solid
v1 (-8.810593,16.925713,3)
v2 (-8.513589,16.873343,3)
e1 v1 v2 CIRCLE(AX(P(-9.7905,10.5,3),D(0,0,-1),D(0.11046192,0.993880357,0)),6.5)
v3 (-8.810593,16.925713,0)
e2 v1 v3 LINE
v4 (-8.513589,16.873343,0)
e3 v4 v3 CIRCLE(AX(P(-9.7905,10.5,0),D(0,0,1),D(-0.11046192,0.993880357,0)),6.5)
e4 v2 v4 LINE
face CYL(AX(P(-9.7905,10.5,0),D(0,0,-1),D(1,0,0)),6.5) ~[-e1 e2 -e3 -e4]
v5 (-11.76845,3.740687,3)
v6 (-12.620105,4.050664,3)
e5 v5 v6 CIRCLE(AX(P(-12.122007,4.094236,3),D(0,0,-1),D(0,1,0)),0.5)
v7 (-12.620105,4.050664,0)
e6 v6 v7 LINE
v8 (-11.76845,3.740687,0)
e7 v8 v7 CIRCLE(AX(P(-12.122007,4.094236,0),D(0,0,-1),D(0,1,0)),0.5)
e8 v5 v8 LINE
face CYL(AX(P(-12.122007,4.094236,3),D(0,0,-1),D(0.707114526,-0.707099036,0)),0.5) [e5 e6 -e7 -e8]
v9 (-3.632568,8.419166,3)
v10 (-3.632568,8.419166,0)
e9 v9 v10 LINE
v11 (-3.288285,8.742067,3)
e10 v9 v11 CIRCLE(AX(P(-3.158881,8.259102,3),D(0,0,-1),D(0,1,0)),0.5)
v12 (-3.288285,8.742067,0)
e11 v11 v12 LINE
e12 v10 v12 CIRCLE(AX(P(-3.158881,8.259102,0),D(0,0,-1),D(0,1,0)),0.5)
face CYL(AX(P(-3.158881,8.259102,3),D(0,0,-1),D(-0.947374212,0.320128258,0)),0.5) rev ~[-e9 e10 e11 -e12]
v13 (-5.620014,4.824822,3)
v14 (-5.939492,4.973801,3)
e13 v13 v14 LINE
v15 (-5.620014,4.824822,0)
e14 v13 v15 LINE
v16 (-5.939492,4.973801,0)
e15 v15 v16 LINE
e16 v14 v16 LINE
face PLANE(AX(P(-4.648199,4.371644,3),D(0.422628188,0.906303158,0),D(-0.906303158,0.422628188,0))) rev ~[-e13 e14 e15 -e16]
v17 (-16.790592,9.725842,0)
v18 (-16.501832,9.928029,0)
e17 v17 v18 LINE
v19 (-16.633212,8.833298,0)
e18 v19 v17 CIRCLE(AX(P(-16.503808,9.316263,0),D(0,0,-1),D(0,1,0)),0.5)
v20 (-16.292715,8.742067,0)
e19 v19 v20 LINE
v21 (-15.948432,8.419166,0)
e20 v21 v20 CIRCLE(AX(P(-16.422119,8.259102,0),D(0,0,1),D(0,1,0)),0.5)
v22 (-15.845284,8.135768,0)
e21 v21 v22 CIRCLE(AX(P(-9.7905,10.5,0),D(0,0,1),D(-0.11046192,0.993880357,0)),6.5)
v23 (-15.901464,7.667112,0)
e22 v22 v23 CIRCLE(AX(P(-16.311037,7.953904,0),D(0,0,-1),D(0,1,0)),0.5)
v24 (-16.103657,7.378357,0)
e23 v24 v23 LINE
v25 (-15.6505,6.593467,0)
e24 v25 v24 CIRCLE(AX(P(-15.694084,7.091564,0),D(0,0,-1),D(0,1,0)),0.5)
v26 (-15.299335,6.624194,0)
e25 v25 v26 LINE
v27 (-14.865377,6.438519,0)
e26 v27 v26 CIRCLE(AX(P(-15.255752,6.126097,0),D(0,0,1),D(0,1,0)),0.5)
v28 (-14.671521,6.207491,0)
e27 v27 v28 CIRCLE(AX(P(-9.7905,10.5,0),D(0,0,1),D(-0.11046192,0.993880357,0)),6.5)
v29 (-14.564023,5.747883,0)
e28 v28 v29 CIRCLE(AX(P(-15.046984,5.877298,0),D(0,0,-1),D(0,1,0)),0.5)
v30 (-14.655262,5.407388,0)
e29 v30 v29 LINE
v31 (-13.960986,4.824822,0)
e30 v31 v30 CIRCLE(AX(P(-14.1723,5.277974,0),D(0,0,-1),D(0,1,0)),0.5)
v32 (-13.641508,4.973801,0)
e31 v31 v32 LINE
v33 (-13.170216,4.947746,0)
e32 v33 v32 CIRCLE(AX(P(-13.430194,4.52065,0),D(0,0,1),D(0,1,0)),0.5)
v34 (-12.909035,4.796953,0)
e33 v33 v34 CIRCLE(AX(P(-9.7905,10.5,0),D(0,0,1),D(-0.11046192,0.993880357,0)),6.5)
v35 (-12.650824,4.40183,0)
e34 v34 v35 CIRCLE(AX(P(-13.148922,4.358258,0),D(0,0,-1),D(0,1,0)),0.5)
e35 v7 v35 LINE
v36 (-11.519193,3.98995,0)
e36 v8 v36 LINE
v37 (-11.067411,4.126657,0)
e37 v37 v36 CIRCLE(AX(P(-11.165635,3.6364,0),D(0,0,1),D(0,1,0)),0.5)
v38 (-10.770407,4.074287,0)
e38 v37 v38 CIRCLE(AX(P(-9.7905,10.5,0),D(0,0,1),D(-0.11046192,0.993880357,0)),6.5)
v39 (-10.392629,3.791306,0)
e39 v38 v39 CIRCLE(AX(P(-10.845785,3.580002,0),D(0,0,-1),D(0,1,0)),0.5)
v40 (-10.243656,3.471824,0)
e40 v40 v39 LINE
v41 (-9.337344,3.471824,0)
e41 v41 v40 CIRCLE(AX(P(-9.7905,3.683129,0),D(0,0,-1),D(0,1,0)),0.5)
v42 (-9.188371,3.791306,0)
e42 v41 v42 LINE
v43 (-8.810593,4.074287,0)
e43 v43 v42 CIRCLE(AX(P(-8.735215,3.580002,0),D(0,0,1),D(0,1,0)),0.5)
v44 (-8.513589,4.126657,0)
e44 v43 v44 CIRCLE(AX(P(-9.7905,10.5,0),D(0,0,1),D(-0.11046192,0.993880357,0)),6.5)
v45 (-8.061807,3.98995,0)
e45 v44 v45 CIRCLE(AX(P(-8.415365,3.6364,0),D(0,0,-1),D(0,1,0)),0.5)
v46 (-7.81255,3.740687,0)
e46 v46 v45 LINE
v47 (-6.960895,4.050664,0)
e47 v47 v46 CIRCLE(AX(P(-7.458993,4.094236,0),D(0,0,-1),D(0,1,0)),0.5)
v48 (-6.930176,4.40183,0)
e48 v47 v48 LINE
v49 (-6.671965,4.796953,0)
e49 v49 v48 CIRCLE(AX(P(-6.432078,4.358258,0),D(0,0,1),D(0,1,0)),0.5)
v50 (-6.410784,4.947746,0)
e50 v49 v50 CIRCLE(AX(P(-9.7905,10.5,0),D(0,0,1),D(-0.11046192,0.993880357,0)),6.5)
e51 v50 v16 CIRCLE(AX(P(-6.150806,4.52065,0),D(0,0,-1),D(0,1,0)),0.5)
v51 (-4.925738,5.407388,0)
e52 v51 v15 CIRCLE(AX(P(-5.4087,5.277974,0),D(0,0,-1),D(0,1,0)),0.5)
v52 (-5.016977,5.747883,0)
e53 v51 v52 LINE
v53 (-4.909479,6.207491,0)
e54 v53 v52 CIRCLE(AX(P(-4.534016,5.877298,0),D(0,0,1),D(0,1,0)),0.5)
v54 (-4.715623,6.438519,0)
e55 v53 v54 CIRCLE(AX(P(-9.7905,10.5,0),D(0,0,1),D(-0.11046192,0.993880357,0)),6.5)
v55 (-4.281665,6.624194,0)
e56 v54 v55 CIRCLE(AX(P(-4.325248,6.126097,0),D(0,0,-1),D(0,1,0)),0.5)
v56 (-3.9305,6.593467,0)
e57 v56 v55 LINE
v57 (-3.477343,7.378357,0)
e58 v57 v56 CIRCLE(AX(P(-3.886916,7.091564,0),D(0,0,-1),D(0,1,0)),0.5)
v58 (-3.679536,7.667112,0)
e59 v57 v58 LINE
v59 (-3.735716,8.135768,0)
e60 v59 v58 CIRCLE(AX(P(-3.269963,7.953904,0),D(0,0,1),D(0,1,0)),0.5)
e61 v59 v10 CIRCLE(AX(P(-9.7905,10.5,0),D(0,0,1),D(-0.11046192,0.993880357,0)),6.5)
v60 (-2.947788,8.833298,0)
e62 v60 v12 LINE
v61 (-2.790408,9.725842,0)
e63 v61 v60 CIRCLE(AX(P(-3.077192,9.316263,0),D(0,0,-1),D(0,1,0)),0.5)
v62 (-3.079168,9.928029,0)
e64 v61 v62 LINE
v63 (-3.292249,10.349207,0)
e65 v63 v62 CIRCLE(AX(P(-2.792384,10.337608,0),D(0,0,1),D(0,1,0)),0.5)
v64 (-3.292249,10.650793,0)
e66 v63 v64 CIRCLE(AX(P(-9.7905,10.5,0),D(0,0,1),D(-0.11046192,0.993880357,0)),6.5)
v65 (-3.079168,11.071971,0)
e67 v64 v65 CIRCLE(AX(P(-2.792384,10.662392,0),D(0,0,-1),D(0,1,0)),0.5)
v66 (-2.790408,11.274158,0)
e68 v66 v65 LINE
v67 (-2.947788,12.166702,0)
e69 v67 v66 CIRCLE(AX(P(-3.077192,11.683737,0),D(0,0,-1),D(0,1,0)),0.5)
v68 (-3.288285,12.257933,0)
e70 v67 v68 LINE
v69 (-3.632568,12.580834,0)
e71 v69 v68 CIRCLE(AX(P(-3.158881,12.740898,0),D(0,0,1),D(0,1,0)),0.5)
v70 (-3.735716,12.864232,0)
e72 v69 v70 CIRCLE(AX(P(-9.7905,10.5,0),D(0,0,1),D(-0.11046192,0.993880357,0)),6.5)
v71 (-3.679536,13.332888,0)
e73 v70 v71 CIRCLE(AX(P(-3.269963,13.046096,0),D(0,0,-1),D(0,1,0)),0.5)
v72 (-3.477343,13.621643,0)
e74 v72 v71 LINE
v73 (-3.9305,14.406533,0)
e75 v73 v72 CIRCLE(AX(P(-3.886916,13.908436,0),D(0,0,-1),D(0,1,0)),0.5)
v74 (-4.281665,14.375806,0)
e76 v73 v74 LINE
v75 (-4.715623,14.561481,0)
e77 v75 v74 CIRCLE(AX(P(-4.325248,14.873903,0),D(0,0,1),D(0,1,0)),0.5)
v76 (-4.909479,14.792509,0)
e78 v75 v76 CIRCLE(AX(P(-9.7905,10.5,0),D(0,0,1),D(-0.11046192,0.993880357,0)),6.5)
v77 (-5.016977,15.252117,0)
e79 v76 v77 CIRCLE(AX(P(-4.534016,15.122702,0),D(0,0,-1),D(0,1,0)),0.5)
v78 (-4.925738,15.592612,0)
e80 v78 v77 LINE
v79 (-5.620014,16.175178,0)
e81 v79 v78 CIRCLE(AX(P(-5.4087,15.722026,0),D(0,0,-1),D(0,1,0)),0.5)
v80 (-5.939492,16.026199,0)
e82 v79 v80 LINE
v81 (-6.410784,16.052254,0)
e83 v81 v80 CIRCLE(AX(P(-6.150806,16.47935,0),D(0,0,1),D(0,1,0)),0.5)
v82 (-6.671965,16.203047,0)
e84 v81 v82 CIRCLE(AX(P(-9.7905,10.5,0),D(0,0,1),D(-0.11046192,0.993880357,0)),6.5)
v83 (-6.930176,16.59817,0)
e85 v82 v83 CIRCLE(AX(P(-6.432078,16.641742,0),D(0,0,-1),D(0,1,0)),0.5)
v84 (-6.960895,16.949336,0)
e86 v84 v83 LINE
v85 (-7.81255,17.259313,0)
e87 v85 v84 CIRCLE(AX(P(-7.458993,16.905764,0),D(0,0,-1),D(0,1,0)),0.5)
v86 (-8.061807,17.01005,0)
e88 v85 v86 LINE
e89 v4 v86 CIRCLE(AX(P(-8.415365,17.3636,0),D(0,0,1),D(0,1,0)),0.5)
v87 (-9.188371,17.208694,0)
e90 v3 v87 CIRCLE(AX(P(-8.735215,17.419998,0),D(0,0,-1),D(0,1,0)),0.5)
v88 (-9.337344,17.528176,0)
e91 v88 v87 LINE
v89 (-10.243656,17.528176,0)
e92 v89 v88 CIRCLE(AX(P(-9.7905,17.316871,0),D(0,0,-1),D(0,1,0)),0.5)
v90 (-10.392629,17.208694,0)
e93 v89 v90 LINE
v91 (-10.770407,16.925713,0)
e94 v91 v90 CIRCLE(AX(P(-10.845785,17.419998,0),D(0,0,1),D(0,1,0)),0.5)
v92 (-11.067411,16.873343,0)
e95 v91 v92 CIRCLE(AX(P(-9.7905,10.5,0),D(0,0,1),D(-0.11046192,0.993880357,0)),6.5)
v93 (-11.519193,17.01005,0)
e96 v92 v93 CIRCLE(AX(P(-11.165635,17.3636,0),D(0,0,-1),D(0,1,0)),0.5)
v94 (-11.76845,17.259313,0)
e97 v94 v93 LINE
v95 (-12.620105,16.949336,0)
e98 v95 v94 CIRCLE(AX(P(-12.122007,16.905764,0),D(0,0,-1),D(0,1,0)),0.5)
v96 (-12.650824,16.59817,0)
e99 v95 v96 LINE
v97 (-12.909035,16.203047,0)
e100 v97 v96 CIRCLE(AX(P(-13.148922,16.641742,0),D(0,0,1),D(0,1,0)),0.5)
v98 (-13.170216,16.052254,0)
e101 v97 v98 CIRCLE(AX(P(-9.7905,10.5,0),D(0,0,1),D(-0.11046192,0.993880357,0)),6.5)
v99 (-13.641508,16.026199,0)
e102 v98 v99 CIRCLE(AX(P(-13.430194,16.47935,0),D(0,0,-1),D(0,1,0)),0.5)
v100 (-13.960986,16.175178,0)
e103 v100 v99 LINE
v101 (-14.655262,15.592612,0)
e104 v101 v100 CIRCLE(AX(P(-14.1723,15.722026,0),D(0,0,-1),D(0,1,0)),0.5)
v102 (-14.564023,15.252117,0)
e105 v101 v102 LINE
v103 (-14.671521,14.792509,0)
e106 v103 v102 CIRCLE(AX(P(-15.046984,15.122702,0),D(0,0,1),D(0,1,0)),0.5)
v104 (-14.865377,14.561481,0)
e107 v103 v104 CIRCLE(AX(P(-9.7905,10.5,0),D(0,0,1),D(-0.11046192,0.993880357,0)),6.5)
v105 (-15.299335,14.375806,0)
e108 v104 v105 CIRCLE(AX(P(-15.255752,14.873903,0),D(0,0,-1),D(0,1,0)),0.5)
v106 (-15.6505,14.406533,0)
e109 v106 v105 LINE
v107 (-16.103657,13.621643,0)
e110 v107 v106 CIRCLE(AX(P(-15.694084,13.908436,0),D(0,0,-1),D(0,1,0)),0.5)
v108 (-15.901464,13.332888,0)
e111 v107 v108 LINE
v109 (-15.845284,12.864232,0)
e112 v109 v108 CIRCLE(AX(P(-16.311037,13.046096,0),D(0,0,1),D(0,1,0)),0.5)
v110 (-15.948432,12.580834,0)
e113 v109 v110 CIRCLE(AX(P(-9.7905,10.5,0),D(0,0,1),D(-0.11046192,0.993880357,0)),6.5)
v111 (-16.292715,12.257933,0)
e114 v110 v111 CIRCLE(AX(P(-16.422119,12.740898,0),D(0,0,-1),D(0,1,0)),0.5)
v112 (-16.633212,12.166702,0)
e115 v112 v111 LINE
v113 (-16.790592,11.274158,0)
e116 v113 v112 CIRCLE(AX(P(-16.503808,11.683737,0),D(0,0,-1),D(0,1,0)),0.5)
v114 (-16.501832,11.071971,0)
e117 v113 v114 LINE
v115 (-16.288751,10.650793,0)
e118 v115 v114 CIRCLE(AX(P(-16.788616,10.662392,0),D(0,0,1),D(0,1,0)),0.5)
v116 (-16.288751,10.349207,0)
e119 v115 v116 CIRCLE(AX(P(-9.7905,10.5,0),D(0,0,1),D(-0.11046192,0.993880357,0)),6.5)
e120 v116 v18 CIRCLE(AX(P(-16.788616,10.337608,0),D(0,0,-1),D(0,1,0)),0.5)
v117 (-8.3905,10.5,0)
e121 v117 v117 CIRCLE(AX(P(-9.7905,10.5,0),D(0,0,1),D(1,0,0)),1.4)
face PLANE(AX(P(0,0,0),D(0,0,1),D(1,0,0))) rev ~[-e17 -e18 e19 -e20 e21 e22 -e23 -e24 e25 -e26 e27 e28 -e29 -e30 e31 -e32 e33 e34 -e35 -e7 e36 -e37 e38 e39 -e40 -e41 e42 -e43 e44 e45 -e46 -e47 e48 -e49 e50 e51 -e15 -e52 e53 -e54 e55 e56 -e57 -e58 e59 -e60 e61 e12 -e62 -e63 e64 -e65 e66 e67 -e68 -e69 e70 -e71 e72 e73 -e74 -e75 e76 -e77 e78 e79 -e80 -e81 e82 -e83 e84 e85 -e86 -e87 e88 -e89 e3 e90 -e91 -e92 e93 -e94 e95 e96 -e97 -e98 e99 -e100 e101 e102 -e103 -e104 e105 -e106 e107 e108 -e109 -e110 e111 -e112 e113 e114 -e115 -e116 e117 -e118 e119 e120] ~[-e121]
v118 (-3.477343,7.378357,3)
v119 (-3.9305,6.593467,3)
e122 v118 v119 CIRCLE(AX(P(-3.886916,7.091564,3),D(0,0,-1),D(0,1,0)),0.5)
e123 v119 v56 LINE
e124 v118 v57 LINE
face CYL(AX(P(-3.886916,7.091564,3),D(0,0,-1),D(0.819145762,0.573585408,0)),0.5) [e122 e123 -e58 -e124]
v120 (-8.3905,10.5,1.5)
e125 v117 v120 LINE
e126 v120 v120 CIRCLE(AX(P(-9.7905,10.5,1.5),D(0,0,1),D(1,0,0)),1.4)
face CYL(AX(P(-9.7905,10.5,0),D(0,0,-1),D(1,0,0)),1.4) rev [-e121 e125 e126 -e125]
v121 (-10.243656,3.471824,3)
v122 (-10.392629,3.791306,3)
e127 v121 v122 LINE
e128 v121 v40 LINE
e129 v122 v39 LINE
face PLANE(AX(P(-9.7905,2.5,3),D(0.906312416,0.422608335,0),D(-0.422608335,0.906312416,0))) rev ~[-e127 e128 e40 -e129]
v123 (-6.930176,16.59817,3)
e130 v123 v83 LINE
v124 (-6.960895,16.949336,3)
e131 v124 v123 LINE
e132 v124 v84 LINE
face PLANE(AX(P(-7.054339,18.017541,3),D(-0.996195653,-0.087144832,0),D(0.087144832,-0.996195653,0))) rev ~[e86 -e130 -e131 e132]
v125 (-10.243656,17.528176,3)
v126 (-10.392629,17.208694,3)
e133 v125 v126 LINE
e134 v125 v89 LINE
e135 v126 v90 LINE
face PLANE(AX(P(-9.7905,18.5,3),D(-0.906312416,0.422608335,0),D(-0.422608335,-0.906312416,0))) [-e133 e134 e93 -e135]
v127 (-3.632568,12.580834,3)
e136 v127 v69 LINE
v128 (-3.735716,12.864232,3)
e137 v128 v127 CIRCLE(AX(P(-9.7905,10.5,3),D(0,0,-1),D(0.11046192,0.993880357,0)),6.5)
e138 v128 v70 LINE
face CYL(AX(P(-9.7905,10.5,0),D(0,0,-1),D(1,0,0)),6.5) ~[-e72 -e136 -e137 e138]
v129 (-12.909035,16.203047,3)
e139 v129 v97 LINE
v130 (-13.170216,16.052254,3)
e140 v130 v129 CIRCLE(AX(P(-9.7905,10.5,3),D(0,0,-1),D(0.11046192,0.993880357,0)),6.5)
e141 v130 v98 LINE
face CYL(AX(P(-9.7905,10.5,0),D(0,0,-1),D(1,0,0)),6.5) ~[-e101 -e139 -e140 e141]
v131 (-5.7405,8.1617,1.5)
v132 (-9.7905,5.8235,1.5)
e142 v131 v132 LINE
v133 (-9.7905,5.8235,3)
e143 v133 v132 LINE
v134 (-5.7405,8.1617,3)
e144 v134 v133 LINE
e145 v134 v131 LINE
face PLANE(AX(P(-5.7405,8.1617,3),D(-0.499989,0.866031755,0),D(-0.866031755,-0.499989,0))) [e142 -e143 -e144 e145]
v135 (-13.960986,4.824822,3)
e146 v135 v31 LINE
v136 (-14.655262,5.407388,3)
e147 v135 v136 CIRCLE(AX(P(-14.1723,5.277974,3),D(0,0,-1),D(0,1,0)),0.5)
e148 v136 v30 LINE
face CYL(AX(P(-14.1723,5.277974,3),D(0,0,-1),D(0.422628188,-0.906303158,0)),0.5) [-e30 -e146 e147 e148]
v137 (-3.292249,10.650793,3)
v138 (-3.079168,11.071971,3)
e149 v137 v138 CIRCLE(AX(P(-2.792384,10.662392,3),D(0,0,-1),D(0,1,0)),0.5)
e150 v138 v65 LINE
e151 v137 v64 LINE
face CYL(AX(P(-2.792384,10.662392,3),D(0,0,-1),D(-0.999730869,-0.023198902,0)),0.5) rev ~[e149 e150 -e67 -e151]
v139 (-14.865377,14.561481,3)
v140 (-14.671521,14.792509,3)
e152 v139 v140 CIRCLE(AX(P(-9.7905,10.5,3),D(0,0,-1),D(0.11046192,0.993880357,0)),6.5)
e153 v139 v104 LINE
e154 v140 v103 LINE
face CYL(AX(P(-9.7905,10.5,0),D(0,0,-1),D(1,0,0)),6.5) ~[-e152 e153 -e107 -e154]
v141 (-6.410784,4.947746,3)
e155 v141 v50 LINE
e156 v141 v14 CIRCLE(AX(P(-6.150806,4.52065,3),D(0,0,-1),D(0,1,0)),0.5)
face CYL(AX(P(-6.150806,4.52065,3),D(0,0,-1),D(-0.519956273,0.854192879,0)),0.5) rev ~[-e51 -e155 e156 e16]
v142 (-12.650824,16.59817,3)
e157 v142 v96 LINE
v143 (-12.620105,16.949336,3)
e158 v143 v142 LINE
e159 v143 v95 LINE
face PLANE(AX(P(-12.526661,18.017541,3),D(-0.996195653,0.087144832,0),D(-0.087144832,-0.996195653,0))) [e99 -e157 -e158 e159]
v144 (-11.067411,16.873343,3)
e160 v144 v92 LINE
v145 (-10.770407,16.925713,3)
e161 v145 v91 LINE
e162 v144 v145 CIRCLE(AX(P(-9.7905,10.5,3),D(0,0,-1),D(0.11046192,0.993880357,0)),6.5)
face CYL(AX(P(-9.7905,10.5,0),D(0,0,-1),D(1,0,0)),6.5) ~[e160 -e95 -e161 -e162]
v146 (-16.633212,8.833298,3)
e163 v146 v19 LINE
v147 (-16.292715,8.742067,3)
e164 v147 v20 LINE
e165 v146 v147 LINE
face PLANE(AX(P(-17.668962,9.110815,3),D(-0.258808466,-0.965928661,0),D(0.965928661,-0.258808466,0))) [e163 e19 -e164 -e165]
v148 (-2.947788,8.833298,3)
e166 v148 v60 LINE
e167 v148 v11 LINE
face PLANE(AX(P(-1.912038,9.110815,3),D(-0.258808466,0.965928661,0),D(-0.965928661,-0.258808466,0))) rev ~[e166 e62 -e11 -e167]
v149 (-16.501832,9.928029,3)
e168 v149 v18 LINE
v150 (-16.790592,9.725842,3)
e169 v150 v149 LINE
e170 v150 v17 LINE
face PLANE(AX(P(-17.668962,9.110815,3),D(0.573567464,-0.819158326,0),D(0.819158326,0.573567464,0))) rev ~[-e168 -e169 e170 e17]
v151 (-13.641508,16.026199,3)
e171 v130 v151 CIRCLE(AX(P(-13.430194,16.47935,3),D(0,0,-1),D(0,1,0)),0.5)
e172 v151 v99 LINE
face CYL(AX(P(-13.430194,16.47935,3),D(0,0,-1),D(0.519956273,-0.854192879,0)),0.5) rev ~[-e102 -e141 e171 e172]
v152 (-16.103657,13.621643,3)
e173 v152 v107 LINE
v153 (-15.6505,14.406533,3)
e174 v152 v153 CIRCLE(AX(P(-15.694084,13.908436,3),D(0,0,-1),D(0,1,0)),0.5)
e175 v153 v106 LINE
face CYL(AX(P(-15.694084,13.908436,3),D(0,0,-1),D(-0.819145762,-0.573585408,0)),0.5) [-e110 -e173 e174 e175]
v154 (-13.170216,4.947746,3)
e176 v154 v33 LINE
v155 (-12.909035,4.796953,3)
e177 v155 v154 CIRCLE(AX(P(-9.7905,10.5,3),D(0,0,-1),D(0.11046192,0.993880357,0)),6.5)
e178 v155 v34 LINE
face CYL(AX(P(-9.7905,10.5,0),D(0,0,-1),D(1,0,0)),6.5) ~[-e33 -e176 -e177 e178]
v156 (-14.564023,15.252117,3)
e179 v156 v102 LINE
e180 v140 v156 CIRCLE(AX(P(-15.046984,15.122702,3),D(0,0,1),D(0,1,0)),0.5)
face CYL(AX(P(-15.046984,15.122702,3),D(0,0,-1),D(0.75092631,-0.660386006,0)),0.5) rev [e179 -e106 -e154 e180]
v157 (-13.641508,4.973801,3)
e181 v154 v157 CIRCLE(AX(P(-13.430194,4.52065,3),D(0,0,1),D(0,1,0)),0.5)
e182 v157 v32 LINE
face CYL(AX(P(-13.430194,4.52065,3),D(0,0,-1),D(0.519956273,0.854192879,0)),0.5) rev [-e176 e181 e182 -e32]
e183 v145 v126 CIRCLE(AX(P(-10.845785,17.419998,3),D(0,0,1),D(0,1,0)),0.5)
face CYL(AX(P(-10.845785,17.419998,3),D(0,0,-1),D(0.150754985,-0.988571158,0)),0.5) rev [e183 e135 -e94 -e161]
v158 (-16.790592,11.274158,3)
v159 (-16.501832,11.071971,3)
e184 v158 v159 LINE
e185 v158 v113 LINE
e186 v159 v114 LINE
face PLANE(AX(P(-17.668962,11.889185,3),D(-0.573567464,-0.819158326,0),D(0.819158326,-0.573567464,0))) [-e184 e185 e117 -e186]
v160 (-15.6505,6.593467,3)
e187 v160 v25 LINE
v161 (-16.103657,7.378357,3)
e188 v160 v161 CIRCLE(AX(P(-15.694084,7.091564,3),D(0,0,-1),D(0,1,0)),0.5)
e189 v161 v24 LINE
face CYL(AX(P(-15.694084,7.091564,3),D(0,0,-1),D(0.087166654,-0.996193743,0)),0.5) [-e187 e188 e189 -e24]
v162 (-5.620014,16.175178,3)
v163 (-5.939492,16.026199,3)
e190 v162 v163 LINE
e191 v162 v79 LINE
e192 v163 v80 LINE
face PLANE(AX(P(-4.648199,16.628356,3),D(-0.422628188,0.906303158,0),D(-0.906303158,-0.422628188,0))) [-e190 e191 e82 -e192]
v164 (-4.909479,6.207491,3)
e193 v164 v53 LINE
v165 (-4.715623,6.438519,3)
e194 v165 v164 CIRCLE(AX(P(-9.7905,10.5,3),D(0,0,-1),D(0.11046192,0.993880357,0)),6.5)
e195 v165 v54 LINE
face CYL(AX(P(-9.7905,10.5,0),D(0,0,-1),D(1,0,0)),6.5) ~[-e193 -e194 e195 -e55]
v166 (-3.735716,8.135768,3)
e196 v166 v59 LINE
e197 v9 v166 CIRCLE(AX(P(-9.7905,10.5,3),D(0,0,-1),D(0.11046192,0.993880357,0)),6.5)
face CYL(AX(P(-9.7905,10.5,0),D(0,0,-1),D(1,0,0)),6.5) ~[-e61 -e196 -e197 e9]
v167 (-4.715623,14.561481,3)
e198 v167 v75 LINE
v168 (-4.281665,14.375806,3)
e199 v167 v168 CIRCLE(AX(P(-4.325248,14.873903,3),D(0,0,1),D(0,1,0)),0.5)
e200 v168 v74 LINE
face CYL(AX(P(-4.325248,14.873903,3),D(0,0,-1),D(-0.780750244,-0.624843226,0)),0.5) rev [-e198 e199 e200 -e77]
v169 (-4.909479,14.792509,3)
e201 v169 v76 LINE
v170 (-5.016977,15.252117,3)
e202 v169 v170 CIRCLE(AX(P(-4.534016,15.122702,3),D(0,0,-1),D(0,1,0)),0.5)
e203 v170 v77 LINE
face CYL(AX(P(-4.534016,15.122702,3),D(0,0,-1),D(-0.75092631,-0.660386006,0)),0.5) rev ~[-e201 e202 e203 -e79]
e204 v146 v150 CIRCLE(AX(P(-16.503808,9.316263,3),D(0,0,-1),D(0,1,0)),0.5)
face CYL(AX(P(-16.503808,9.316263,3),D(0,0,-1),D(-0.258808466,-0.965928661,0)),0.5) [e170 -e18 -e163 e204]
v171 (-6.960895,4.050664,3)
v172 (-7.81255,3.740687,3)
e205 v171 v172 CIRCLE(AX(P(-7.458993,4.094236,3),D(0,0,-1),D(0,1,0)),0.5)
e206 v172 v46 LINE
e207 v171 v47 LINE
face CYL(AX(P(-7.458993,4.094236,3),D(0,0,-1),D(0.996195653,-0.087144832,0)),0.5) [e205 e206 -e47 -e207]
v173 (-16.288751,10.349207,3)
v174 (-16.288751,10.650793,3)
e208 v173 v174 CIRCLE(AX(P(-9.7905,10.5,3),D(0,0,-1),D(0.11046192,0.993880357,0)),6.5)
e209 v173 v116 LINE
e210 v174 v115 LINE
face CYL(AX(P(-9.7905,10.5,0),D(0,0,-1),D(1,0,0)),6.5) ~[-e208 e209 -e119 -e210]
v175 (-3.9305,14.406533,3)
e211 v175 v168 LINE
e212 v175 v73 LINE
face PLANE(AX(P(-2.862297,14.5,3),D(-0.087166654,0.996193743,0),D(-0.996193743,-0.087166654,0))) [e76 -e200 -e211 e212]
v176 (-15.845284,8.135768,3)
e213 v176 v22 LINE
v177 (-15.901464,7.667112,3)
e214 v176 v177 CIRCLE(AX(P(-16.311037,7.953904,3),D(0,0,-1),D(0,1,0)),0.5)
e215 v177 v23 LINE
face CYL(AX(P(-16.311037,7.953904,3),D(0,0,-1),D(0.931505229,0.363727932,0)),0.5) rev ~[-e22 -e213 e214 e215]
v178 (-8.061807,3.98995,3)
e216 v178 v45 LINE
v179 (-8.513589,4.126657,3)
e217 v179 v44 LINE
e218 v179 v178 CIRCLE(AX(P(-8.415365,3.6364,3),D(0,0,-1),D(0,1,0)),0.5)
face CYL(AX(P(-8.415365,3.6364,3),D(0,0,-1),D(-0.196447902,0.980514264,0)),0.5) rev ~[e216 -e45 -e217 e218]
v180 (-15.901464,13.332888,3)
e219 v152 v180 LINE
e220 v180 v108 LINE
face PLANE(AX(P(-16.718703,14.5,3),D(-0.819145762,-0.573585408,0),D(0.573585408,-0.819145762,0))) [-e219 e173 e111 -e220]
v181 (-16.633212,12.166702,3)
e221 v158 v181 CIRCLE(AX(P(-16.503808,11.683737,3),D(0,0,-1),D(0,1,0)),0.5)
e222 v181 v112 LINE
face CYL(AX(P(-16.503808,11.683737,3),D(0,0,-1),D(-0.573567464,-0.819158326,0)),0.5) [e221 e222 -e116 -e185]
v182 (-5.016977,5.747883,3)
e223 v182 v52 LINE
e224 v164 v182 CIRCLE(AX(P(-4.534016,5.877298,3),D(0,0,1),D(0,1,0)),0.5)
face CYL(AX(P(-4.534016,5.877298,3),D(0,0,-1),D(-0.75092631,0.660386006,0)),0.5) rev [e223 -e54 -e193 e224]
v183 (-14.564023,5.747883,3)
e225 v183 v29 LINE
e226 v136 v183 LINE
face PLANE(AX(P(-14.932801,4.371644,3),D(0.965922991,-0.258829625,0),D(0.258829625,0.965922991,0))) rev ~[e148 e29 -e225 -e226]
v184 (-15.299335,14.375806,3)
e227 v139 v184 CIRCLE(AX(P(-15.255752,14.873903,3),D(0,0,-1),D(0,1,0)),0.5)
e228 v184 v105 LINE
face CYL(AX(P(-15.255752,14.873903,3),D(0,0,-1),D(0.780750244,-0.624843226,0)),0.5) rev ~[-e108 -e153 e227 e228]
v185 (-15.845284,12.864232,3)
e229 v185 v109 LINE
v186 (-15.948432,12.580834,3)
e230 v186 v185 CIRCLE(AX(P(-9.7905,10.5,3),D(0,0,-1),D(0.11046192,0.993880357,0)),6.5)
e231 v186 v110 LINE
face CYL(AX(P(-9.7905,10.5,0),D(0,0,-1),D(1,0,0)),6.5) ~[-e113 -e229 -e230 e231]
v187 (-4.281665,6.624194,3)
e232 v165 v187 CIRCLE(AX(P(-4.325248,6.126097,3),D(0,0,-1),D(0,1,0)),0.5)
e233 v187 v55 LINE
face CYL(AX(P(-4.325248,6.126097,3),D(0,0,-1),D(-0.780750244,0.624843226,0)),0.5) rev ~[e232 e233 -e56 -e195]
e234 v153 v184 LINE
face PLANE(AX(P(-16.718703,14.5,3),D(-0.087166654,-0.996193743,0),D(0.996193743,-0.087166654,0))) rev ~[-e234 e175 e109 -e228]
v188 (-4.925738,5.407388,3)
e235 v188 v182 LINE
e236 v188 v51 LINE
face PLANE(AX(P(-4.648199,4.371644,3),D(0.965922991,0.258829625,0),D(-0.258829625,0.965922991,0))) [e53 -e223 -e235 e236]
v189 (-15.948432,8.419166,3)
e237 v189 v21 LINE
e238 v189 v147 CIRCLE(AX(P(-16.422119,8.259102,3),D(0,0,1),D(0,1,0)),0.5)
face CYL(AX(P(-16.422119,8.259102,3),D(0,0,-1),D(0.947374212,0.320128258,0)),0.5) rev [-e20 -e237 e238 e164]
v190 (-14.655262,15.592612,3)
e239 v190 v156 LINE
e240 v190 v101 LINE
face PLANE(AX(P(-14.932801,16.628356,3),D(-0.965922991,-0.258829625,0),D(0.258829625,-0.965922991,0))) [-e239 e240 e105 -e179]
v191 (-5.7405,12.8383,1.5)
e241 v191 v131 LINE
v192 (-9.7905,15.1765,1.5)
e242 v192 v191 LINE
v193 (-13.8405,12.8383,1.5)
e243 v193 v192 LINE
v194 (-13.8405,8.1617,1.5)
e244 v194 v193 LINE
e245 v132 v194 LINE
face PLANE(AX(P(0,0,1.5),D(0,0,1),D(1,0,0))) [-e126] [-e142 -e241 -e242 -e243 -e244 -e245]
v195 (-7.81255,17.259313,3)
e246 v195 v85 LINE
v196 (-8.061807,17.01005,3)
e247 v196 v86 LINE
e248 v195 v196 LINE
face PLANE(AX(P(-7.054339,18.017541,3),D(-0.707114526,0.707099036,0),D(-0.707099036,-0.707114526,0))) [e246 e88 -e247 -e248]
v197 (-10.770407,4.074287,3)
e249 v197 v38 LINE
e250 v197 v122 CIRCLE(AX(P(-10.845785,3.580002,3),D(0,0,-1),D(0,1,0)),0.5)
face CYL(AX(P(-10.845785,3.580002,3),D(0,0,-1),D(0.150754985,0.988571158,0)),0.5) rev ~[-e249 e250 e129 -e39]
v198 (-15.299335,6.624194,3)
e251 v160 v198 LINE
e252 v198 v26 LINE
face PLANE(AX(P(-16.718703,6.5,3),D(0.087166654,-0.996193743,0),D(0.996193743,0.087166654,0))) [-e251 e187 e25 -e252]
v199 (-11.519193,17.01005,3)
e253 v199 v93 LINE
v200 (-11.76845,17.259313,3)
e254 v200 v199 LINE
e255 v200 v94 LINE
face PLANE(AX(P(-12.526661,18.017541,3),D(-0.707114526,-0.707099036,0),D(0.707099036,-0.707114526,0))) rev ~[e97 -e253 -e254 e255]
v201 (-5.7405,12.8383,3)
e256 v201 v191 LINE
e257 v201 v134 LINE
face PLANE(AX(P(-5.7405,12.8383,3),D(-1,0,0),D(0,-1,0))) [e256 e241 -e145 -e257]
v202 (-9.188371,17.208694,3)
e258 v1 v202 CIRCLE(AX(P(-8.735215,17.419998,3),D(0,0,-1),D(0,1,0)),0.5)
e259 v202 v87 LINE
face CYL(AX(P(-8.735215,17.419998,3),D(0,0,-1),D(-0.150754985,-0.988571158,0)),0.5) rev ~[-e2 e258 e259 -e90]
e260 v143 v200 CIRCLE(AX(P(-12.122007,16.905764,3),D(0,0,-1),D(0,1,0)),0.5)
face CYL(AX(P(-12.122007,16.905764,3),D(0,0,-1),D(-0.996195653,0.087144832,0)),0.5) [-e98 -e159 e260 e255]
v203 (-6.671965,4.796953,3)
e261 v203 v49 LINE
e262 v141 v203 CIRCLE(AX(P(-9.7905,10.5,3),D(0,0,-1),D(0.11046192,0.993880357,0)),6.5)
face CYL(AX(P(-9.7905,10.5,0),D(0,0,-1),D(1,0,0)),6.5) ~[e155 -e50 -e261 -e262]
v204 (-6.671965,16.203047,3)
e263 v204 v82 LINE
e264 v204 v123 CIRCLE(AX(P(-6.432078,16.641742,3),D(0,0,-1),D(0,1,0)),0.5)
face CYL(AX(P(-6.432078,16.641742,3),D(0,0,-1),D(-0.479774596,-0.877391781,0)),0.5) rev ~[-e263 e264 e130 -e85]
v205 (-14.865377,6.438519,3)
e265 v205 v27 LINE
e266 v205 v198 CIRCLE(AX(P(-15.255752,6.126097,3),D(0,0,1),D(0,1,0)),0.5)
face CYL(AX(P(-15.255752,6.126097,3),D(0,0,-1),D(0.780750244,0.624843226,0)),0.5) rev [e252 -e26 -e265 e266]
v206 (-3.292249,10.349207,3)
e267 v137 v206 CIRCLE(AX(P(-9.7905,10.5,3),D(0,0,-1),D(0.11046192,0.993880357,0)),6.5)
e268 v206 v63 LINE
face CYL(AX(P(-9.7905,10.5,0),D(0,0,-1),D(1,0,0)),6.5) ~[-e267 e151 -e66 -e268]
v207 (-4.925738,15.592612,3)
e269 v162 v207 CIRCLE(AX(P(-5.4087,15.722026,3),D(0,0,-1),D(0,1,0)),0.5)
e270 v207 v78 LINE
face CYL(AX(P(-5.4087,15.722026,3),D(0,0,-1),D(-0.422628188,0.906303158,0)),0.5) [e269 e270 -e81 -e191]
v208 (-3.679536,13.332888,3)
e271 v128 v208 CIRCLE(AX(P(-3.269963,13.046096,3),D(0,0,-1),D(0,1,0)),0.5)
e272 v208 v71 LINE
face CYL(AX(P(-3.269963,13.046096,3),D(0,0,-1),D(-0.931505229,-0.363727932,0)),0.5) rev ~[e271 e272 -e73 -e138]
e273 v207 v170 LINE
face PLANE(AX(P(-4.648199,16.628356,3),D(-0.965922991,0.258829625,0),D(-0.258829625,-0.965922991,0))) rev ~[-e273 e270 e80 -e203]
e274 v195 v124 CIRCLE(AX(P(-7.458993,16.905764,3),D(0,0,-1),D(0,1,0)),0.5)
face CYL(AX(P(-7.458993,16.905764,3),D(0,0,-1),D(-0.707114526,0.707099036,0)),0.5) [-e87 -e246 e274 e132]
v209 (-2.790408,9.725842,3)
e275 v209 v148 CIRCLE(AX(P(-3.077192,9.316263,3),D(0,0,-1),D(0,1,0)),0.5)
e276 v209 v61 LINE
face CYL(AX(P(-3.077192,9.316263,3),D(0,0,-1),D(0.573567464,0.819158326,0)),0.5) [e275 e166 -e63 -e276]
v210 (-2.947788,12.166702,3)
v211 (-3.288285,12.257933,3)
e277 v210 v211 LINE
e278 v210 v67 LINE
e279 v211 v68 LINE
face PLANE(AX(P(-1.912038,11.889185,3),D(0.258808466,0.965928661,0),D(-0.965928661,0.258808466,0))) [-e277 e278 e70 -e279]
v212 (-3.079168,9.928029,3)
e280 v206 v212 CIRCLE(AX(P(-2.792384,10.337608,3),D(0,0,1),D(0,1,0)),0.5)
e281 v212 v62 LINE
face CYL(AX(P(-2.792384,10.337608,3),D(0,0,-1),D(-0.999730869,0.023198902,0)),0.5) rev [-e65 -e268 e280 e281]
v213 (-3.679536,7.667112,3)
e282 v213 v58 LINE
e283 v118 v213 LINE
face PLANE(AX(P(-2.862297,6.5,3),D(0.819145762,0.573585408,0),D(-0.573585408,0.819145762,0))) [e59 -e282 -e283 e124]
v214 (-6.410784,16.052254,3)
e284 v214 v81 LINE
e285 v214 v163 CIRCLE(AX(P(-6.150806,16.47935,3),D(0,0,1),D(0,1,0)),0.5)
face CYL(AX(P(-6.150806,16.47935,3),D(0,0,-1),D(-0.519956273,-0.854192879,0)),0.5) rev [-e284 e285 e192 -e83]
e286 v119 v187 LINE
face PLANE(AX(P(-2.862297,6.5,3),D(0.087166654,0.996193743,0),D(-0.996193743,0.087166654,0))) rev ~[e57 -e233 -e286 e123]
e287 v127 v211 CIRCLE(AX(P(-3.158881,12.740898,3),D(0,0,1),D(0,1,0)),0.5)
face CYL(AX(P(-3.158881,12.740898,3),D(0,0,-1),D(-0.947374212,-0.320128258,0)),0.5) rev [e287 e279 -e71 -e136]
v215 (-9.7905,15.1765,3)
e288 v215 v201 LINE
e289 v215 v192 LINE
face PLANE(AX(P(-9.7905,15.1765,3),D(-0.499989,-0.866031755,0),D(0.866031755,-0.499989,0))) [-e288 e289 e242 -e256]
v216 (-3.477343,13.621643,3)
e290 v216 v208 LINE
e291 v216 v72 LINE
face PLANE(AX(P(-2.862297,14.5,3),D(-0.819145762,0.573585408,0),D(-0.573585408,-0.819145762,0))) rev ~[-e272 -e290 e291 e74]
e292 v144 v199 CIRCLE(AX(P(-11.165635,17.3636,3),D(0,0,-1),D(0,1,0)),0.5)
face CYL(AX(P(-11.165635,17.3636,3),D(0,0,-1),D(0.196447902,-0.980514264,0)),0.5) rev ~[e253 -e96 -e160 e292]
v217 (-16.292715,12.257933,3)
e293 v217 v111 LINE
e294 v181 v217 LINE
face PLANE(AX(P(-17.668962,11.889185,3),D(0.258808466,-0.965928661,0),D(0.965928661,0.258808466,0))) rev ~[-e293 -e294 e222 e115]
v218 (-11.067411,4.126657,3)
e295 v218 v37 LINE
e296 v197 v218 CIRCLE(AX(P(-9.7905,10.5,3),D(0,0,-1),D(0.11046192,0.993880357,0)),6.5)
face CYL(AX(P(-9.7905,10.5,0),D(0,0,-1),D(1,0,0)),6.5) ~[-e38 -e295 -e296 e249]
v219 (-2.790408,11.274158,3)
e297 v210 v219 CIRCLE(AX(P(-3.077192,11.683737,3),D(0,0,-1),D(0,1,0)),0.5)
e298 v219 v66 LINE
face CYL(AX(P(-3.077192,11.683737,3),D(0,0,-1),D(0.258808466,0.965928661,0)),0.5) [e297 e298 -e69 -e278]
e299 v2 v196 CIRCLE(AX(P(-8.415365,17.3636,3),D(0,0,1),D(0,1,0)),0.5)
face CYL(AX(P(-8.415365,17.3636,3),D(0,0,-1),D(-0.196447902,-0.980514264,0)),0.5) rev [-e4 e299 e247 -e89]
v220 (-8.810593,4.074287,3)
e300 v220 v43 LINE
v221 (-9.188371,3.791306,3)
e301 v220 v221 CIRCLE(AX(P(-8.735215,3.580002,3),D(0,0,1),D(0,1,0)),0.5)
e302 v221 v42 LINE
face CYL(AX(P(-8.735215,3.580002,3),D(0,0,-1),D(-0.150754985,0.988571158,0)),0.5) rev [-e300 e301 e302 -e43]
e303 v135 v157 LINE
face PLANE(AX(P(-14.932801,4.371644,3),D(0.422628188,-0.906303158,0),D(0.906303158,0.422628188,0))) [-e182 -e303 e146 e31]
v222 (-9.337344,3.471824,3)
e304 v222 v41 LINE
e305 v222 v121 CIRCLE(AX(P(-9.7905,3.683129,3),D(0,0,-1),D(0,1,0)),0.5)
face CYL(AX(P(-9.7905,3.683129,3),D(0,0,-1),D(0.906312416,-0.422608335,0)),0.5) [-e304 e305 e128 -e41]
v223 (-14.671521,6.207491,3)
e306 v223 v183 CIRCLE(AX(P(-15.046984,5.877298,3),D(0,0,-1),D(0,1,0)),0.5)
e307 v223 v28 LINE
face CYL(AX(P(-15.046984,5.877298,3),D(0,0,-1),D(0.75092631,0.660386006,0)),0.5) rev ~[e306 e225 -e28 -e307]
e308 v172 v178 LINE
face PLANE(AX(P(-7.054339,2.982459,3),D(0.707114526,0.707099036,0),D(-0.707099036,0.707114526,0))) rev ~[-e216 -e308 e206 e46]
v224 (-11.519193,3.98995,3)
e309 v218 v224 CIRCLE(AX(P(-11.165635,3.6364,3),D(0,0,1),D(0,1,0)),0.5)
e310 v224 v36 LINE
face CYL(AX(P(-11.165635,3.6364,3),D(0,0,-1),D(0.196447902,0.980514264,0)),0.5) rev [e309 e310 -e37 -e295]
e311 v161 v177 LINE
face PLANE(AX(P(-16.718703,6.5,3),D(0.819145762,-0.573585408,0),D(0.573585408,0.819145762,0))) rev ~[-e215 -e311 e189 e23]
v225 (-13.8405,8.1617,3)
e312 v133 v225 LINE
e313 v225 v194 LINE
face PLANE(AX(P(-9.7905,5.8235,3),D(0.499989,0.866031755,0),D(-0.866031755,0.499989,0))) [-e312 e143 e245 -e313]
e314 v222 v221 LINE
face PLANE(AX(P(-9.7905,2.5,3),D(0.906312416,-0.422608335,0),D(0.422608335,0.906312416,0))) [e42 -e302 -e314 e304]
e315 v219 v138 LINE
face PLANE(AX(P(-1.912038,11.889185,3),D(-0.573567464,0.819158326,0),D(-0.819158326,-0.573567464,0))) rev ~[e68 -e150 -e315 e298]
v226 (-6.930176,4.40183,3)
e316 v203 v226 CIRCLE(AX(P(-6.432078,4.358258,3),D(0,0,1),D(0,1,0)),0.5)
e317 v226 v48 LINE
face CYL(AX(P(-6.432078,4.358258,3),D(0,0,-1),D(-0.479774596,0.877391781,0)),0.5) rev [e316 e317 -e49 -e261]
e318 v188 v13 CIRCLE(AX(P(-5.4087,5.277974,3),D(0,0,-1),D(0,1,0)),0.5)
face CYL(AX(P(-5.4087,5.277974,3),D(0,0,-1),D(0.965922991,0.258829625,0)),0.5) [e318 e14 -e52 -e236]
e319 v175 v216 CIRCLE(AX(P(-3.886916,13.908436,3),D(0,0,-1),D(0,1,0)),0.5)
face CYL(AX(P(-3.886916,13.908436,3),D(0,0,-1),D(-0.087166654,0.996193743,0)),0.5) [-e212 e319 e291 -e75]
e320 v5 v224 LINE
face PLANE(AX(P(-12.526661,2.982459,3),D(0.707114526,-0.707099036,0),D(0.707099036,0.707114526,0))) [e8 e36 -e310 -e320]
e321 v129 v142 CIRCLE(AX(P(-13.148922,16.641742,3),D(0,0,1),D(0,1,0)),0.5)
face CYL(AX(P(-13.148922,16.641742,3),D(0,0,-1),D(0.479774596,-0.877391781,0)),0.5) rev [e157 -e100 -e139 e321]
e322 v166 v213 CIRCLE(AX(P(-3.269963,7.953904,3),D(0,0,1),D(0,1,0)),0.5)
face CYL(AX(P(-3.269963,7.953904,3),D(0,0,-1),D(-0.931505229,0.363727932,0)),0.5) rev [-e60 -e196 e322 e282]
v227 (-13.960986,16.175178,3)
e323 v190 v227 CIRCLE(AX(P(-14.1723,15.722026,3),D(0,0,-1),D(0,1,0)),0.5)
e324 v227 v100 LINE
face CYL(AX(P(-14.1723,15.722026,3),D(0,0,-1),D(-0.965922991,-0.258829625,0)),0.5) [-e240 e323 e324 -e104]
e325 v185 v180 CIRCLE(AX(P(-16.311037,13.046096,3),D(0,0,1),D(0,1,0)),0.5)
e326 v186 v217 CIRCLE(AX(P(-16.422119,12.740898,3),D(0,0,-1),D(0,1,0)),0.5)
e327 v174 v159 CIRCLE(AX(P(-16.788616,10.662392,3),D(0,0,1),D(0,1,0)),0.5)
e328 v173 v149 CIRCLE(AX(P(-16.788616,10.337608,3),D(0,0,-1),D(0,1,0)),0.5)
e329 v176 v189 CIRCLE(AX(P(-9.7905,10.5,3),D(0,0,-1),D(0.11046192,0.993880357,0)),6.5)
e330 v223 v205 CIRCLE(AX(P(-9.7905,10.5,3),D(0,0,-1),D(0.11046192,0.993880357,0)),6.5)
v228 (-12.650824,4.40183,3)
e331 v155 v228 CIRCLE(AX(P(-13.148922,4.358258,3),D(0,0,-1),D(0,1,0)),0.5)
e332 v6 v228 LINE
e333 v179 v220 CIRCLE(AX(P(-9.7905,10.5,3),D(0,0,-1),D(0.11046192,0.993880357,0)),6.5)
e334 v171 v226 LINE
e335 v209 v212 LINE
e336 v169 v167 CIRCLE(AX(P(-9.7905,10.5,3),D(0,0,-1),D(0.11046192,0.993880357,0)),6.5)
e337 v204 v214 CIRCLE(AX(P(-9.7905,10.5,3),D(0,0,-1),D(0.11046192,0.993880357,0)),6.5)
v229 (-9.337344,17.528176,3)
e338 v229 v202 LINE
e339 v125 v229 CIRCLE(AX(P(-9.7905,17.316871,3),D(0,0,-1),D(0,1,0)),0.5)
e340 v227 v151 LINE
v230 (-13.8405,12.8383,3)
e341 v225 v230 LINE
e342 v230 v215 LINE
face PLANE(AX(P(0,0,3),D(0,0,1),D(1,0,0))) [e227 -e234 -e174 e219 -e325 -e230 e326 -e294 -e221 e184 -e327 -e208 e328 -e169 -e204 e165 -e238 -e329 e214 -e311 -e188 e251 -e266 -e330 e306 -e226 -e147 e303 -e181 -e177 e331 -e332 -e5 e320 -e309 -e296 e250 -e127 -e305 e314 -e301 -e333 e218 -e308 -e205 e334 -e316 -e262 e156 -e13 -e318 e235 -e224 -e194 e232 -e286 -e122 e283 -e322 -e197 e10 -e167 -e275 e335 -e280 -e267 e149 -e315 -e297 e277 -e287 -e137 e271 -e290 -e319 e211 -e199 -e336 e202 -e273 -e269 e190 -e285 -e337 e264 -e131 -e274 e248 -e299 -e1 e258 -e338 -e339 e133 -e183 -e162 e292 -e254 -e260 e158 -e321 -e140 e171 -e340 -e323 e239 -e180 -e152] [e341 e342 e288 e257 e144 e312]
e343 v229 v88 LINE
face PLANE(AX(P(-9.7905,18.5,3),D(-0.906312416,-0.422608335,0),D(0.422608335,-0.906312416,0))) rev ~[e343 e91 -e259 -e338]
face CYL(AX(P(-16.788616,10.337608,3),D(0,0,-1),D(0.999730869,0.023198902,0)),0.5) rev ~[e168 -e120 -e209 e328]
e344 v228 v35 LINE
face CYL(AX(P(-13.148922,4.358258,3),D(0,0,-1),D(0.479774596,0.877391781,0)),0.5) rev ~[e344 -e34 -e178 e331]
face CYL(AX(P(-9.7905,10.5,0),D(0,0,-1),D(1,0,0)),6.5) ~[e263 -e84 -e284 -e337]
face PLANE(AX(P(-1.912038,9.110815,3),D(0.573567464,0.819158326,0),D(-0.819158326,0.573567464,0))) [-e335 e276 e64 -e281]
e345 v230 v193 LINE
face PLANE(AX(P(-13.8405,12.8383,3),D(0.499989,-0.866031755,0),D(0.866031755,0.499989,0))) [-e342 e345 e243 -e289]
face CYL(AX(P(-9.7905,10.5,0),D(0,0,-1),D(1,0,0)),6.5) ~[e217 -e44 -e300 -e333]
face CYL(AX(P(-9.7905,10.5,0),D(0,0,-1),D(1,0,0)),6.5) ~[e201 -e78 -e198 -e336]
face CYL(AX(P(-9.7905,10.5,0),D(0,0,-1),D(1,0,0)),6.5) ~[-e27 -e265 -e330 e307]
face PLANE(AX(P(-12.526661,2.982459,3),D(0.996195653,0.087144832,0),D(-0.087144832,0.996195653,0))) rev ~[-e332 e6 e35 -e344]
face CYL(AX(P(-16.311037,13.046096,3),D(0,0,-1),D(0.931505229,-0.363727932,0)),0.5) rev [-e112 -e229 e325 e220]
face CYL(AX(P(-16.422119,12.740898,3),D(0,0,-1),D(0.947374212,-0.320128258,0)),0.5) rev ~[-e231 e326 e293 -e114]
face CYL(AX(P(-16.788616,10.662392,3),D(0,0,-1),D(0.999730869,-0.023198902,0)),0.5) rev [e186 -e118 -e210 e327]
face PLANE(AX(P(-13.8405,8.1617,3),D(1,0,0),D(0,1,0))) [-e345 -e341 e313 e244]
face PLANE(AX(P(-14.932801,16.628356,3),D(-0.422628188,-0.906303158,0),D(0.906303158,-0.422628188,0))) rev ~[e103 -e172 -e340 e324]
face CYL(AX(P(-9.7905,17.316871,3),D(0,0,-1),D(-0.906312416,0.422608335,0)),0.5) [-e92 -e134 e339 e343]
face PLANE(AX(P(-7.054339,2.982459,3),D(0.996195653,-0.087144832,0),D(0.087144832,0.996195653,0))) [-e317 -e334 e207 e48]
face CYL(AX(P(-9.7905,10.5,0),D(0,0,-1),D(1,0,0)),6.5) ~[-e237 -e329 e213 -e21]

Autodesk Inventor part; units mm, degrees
ref_plane "YZ Plane" through (0, 0, 0) normal (1, 0, 0) x (0, 1, 0)
ref_plane "XZ Plane" through (0, 0, 0) normal (0, 1, 0) x (-1, 0, 0)
ref_plane "XY Plane" through (0, 0, 0) normal (0, 0, 1) x (1, 0, 0)
ref_plane "Work Plane1" through (0, 0, 0) normal (0, 0, 1) x (1, 0, 0)
sketch "Sketch1" plane through (0, 0, 0) normal (0, 0, 1) x (1, 0, 0)
  circle A0 centre (-16.5191, 0.5183) radius 1.4 projected
  circle A1 centre (-9.7905, 10.5) radius 2.95 construction
  circle A2 centre (14.4582, 10.5) radius 2.95 projected
  circle A3 centre (2.3338, -10.5) radius 2.95 projected
  line L0 (19.7905, 14.5) -> (19.7905, -14.5) projected
  line L1 (-19.7905, 14.5) -> (19.7905, 14.5) projected
  line L2 (-19.7905, -14.5) -> (-19.7905, 14.5) projected
  line L3 (19.7905, -14.5) -> (-19.7905, -14.5) projected
  circle A4 centre (-9.7905, 10.5) radius 1.5 construction
  circle A5 centre (-9.7905, 10.5) radius 6.5
  circle A6 centre (-9.7905, 10.5) radius 1.4
  point P0 (0, 0)
  dimension "d0" = 13
  dimension "d1" = 2.8
extrude "Extrusion1" add sketch "Sketch1" along normal blind 3 contours A5 L1 | L1 A5
sketch "Sketch2" plane through (-9.7905, 10.5, 3) normal (0, 0, 1) x (1, 0, 0)
  circle A0 centre (0, 0) radius 1.4 projected
  circle A1 centre (0, 0) radius 6.5 projected
  circle A2 centre (0, 0) radius 6.5 projected
  line L0 (0, 6.5) -> (0, 8)
  line L1 (0, 8) -> (0.718, 6.4602)
  arc A3 (0.718, 6.4602) -> (0, 6.5) centre (0, 0) ccw
  line L2 (0, 8) -> (-0.718, 6.4602)
  arc A4 (0, 6.5) -> (-0.718, 6.4602) centre (0, 0) ccw
  point P0 (9.7905, -10.5)
  dimension "d4" = 1.5
  dimension "d5" = 25
extrude "Extrusion2" add sketch "Sketch2" against normal up to surface (3 mm away) contours A1 L0 L1 | L2 L0 A1
fillet "Fillet1" radius 0.5 3 edges at (-9.7905, 18.5, 1.5) (-10.5085, 16.9602, 1.5) (-9.0725, 16.9602, 1.5)
pattern_circular "Circular Pattern1" count 18 over 360 about axis through (-9.7905, 10.5, 0) along (0, 0, 1) of "Extrusion2", "Fillet1"
sketch "Sketch3" plane through (0, 0, 3) normal (0, 0, 1) x (1, 0, 0)
  circle A0 centre (-9.7905, 10.5) radius 1.4 projected
  arc A1 (-6.9609, 16.9494) -> (-7.8125, 17.2593) centre (-7.459, 16.9058) ccw projected
  line L0 (-8.0618, 17.0101) -> (-7.8125, 17.2593) projected
  arc A2 (-8.5136, 16.8733) -> (-8.0618, 17.0101) centre (-8.4154, 17.3636) ccw projected
  arc A3 (-8.5136, 16.8733) -> (-8.8106, 16.9257) centre (-9.7905, 10.5) ccw projected
  arc A4 (-9.1884, 17.2087) -> (-8.8106, 16.9257) centre (-8.7352, 17.42) ccw projected
  line L1 (-9.3374, 17.5282) -> (-9.1884, 17.2087) projected
  arc A5 (-9.3374, 17.5282) -> (-10.2437, 17.5282) centre (-9.7905, 17.3169) ccw projected
  line L2 (-10.3927, 17.2087) -> (-10.2437, 17.5282) projected
  arc A6 (-10.7704, 16.9257) -> (-10.3927, 17.2087) centre (-10.8458, 17.42) ccw projected
  arc A7 (-10.7704, 16.9257) -> (-11.0674, 16.8733) centre (-9.7905, 10.5) ccw projected
  arc A8 (-11.5192, 17.0101) -> (-11.0674, 16.8733) centre (-11.1656, 17.3636) ccw projected
  line L3 (-11.7685, 17.2593) -> (-11.5192, 17.0101) projected
  arc A9 (-11.7685, 17.2593) -> (-12.6201, 16.9494) centre (-12.122, 16.9058) ccw projected
  line L4 (-12.6509, 16.5982) -> (-12.6201, 16.9494) projected
  arc A10 (-12.9091, 16.203) -> (-12.6509, 16.5982) centre (-13.1489, 16.6417) ccw projected
  arc A11 (-12.9091, 16.203) -> (-13.1702, 16.0523) centre (-9.7905, 10.5) ccw projected
  arc A12 (-13.6415, 16.0262) -> (-13.1702, 16.0523) centre (-13.4302, 16.4794) ccw projected
  line L5 (-13.961, 16.1752) -> (-13.6415, 16.0262) projected
  arc A13 (-13.961, 16.1752) -> (-14.6553, 15.5926) centre (-14.1723, 15.722) ccw projected
  line L6 (-14.564, 15.2521) -> (-14.6553, 15.5926) projected
  arc A14 (-14.6715, 14.7925) -> (-14.564, 15.2521) centre (-15.047, 15.1227) ccw projected
  arc A15 (-14.6715, 14.7925) -> (-14.8654, 14.5615) centre (-9.7905, 10.5) ccw projected
  arc A16 (-15.2993, 14.3758) -> (-14.8654, 14.5615) centre (-15.2557, 14.8739) ccw projected
  line L7 (-15.6505, 14.4065) -> (-15.2993, 14.3758) projected
  arc A17 (-15.6505, 14.4065) -> (-16.1037, 13.6217) centre (-15.6941, 13.9084) ccw projected
  line L8 (-15.9015, 13.3329) -> (-16.1037, 13.6217) projected
  arc A18 (-15.8453, 12.8642) -> (-15.9015, 13.3329) centre (-16.3111, 13.0461) ccw projected
  arc A19 (-15.8453, 12.8642) -> (-15.9484, 12.5809) centre (-9.7905, 10.5) ccw projected
  arc A20 (-16.2927, 12.258) -> (-15.9484, 12.5809) centre (-16.4221, 12.7409) ccw projected
  line L9 (-16.6333, 12.1667) -> (-16.2927, 12.258) projected
  arc A21 (-16.6333, 12.1667) -> (-16.7906, 11.2742) centre (-16.5038, 11.6837) ccw projected
  line L10 (-16.5018, 11.0719) -> (-16.7906, 11.2742) projected
  arc A22 (-16.2888, 10.6508) -> (-16.5018, 11.0719) centre (-16.7886, 10.6624) ccw projected
  arc A23 (-16.2888, 10.6508) -> (-16.2888, 10.3492) centre (-9.7905, 10.5) ccw projected
  arc A24 (-16.5018, 9.9281) -> (-16.2888, 10.3492) centre (-16.7886, 10.3376) ccw projected
  line L11 (-16.7906, 9.7258) -> (-16.5018, 9.9281) projected
  arc A25 (-16.7906, 9.7258) -> (-16.6333, 8.8333) centre (-16.5038, 9.3163) ccw projected
  line L12 (-16.2927, 8.742) -> (-16.6333, 8.8333) projected
  arc A26 (-15.9484, 8.4191) -> (-16.2927, 8.742) centre (-16.4221, 8.2591) ccw projected
  arc A27 (-15.9484, 8.4191) -> (-15.8453, 8.1358) centre (-9.7905, 10.5) ccw projected
  arc A28 (-15.9015, 7.6671) -> (-15.8453, 8.1358) centre (-16.3111, 7.9539) ccw projected
  line L13 (-16.1037, 7.3783) -> (-15.9015, 7.6671) projected
  arc A29 (-16.1037, 7.3783) -> (-15.6505, 6.5935) centre (-15.6941, 7.0916) ccw projected
  line L14 (-15.2993, 6.6242) -> (-15.6505, 6.5935) projected
  arc A30 (-14.8654, 6.4385) -> (-15.2993, 6.6242) centre (-15.2557, 6.1261) ccw projected
  arc A31 (-14.8654, 6.4385) -> (-14.6715, 6.2075) centre (-9.7905, 10.5) ccw projected
  arc A32 (-14.564, 5.7479) -> (-14.6715, 6.2075) centre (-15.047, 5.8773) ccw projected
  line L15 (-14.6553, 5.4074) -> (-14.564, 5.7479) projected
  arc A33 (-14.6553, 5.4074) -> (-13.961, 4.8248) centre (-14.1723, 5.278) ccw projected
  line L16 (-13.6415, 4.9738) -> (-13.961, 4.8248) projected
  arc A34 (-13.1702, 4.9477) -> (-13.6415, 4.9738) centre (-13.4302, 4.5206) ccw projected
  arc A35 (-13.1702, 4.9477) -> (-12.9091, 4.797) centre (-9.7905, 10.5) ccw projected
  arc A36 (-12.6509, 4.4018) -> (-12.9091, 4.797) centre (-13.1489, 4.3583) ccw projected
  line L17 (-12.6201, 4.0506) -> (-12.6509, 4.4018) projected
  arc A37 (-12.6201, 4.0506) -> (-11.7685, 3.7407) centre (-12.122, 4.0942) ccw projected
  line L18 (-11.5192, 3.9899) -> (-11.7685, 3.7407) projected
  arc A38 (-11.0674, 4.1267) -> (-11.5192, 3.9899) centre (-11.1656, 3.6364) ccw projected
  arc A39 (-11.0674, 4.1267) -> (-10.7704, 4.0743) centre (-9.7905, 10.5) ccw projected
  arc A40 (-10.3927, 3.7913) -> (-10.7704, 4.0743) centre (-10.8458, 3.58) ccw projected
  line L19 (-10.2437, 3.4718) -> (-10.3927, 3.7913) projected
  arc A41 (-10.2437, 3.4718) -> (-9.3374, 3.4718) centre (-9.7905, 3.6831) ccw projected
  line L20 (-9.1884, 3.7913) -> (-9.3374, 3.4718) projected
  arc A42 (-8.8106, 4.0743) -> (-9.1884, 3.7913) centre (-8.7352, 3.58) ccw projected
  arc A43 (-8.8106, 4.0743) -> (-8.5136, 4.1267) centre (-9.7905, 10.5) ccw projected
  arc A44 (-8.0618, 3.9899) -> (-8.5136, 4.1267) centre (-8.4154, 3.6364) ccw projected
  line L21 (-7.8125, 3.7407) -> (-8.0618, 3.9899) projected
  arc A45 (-7.8125, 3.7407) -> (-6.9609, 4.0506) centre (-7.459, 4.0942) ccw projected
  line L22 (-6.9302, 4.4018) -> (-6.9609, 4.0506) projected
  arc A46 (-6.672, 4.797) -> (-6.9302, 4.4018) centre (-6.4321, 4.3583) ccw projected
  arc A47 (-6.672, 4.797) -> (-6.4108, 4.9477) centre (-9.7905, 10.5) ccw projected
  arc A48 (-5.9395, 4.9738) -> (-6.4108, 4.9477) centre (-6.1508, 4.5206) ccw projected
  line L23 (-5.62, 4.8248) -> (-5.9395, 4.9738) projected
  arc A49 (-5.62, 4.8248) -> (-4.9257, 5.4074) centre (-5.4087, 5.278) ccw projected
  line L24 (-5.017, 5.7479) -> (-4.9257, 5.4074) projected
  arc A50 (-4.9095, 6.2075) -> (-5.017, 5.7479) centre (-4.534, 5.8773) ccw projected
  arc A51 (-4.9095, 6.2075) -> (-4.7156, 6.4385) centre (-9.7905, 10.5) ccw projected
  arc A52 (-4.2817, 6.6242) -> (-4.7156, 6.4385) centre (-4.3253, 6.1261) ccw projected
  line L25 (-3.9305, 6.5935) -> (-4.2817, 6.6242) projected
  arc A53 (-3.9305, 6.5935) -> (-3.4773, 7.3783) centre (-3.8869, 7.0916) ccw projected
  line L26 (-3.6795, 7.6671) -> (-3.4773, 7.3783) projected
  arc A54 (-3.7357, 8.1358) -> (-3.6795, 7.6671) centre (-3.27, 7.9539) ccw projected
  arc A55 (-3.7357, 8.1358) -> (-3.6326, 8.4191) centre (-9.7905, 10.5) ccw projected
  arc A56 (-3.2883, 8.742) -> (-3.6326, 8.4191) centre (-3.1589, 8.2591) ccw projected
  line L27 (-2.9478, 8.8333) -> (-3.2883, 8.742) projected
  arc A57 (-2.9478, 8.8333) -> (-2.7904, 9.7258) centre (-3.0772, 9.3163) ccw projected
  line L28 (-3.0792, 9.9281) -> (-2.7904, 9.7258) projected
  arc A58 (-3.2923, 10.3492) -> (-3.0792, 9.9281) centre (-2.7924, 10.3376) ccw projected
  arc A59 (-3.2923, 10.3492) -> (-3.2923, 10.6508) centre (-9.7905, 10.5) ccw projected
  arc A60 (-3.0792, 11.0719) -> (-3.2923, 10.6508) centre (-2.7924, 10.6624) ccw projected
  line L29 (-2.7904, 11.2742) -> (-3.0792, 11.0719) projected
  arc A61 (-2.7904, 11.2742) -> (-2.9478, 12.1667) centre (-3.0772, 11.6837) ccw projected
  line L30 (-3.2883, 12.258) -> (-2.9478, 12.1667) projected
  arc A62 (-3.6326, 12.5809) -> (-3.2883, 12.258) centre (-3.1589, 12.7409) ccw projected
  arc A63 (-3.6326, 12.5809) -> (-3.7357, 12.8642) centre (-9.7905, 10.5) ccw projected
  arc A64 (-3.6795, 13.3329) -> (-3.7357, 12.8642) centre (-3.27, 13.0461) ccw projected
  line L31 (-3.4773, 13.6217) -> (-3.6795, 13.3329) projected
  arc A65 (-3.4773, 13.6217) -> (-3.9305, 14.4065) centre (-3.8869, 13.9084) ccw projected
  line L32 (-4.2817, 14.3758) -> (-3.9305, 14.4065) projected
  arc A66 (-4.7156, 14.5615) -> (-4.2817, 14.3758) centre (-4.3253, 14.8739) ccw projected
  arc A67 (-4.7156, 14.5615) -> (-4.9095, 14.7925) centre (-9.7905, 10.5) ccw projected
  arc A68 (-5.017, 15.2521) -> (-4.9095, 14.7925) centre (-4.534, 15.1227) ccw projected
  line L33 (-4.9257, 15.5926) -> (-5.017, 15.2521) projected
  arc A69 (-4.9257, 15.5926) -> (-5.62, 16.1752) centre (-5.4087, 15.722) ccw projected
  line L34 (-5.9395, 16.0262) -> (-5.62, 16.1752) projected
  arc A70 (-6.4108, 16.0523) -> (-5.9395, 16.0262) centre (-6.1508, 16.4794) ccw projected
  arc A71 (-6.4108, 16.0523) -> (-6.672, 16.203) centre (-9.7905, 10.5) ccw projected
  arc A72 (-6.9302, 16.5982) -> (-6.672, 16.203) centre (-6.4321, 16.6417) ccw projected
  line L35 (-6.9609, 16.9494) -> (-6.9302, 16.5982) projected
  line L36 (-13.8405, 8.1617) -> (-13.8405, 12.8383)
  line L37 (-13.8405, 12.8383) -> (-9.7905, 15.1765)
  line L38 (-9.7905, 15.1765) -> (-5.7405, 12.8383)
  line L39 (-5.7405, 12.8383) -> (-5.7405, 8.1617)
  line L40 (-5.7405, 8.1617) -> (-9.7905, 5.8235)
  line L41 (-9.7905, 5.8235) -> (-13.8405, 8.1617)
  line L42 (0, 21.3803) -> (0, -3.5634) projected
  point P0 (0, 0)
  dimension "d12" = 8.1
extrude "Extrusion3" cut sketch "Sketch3" against normal blind 1.5 contours L36 L37 L38 L39 L40 L41
properties part number "cellSTORM_v5_chiptray_adjustmentscrew"
